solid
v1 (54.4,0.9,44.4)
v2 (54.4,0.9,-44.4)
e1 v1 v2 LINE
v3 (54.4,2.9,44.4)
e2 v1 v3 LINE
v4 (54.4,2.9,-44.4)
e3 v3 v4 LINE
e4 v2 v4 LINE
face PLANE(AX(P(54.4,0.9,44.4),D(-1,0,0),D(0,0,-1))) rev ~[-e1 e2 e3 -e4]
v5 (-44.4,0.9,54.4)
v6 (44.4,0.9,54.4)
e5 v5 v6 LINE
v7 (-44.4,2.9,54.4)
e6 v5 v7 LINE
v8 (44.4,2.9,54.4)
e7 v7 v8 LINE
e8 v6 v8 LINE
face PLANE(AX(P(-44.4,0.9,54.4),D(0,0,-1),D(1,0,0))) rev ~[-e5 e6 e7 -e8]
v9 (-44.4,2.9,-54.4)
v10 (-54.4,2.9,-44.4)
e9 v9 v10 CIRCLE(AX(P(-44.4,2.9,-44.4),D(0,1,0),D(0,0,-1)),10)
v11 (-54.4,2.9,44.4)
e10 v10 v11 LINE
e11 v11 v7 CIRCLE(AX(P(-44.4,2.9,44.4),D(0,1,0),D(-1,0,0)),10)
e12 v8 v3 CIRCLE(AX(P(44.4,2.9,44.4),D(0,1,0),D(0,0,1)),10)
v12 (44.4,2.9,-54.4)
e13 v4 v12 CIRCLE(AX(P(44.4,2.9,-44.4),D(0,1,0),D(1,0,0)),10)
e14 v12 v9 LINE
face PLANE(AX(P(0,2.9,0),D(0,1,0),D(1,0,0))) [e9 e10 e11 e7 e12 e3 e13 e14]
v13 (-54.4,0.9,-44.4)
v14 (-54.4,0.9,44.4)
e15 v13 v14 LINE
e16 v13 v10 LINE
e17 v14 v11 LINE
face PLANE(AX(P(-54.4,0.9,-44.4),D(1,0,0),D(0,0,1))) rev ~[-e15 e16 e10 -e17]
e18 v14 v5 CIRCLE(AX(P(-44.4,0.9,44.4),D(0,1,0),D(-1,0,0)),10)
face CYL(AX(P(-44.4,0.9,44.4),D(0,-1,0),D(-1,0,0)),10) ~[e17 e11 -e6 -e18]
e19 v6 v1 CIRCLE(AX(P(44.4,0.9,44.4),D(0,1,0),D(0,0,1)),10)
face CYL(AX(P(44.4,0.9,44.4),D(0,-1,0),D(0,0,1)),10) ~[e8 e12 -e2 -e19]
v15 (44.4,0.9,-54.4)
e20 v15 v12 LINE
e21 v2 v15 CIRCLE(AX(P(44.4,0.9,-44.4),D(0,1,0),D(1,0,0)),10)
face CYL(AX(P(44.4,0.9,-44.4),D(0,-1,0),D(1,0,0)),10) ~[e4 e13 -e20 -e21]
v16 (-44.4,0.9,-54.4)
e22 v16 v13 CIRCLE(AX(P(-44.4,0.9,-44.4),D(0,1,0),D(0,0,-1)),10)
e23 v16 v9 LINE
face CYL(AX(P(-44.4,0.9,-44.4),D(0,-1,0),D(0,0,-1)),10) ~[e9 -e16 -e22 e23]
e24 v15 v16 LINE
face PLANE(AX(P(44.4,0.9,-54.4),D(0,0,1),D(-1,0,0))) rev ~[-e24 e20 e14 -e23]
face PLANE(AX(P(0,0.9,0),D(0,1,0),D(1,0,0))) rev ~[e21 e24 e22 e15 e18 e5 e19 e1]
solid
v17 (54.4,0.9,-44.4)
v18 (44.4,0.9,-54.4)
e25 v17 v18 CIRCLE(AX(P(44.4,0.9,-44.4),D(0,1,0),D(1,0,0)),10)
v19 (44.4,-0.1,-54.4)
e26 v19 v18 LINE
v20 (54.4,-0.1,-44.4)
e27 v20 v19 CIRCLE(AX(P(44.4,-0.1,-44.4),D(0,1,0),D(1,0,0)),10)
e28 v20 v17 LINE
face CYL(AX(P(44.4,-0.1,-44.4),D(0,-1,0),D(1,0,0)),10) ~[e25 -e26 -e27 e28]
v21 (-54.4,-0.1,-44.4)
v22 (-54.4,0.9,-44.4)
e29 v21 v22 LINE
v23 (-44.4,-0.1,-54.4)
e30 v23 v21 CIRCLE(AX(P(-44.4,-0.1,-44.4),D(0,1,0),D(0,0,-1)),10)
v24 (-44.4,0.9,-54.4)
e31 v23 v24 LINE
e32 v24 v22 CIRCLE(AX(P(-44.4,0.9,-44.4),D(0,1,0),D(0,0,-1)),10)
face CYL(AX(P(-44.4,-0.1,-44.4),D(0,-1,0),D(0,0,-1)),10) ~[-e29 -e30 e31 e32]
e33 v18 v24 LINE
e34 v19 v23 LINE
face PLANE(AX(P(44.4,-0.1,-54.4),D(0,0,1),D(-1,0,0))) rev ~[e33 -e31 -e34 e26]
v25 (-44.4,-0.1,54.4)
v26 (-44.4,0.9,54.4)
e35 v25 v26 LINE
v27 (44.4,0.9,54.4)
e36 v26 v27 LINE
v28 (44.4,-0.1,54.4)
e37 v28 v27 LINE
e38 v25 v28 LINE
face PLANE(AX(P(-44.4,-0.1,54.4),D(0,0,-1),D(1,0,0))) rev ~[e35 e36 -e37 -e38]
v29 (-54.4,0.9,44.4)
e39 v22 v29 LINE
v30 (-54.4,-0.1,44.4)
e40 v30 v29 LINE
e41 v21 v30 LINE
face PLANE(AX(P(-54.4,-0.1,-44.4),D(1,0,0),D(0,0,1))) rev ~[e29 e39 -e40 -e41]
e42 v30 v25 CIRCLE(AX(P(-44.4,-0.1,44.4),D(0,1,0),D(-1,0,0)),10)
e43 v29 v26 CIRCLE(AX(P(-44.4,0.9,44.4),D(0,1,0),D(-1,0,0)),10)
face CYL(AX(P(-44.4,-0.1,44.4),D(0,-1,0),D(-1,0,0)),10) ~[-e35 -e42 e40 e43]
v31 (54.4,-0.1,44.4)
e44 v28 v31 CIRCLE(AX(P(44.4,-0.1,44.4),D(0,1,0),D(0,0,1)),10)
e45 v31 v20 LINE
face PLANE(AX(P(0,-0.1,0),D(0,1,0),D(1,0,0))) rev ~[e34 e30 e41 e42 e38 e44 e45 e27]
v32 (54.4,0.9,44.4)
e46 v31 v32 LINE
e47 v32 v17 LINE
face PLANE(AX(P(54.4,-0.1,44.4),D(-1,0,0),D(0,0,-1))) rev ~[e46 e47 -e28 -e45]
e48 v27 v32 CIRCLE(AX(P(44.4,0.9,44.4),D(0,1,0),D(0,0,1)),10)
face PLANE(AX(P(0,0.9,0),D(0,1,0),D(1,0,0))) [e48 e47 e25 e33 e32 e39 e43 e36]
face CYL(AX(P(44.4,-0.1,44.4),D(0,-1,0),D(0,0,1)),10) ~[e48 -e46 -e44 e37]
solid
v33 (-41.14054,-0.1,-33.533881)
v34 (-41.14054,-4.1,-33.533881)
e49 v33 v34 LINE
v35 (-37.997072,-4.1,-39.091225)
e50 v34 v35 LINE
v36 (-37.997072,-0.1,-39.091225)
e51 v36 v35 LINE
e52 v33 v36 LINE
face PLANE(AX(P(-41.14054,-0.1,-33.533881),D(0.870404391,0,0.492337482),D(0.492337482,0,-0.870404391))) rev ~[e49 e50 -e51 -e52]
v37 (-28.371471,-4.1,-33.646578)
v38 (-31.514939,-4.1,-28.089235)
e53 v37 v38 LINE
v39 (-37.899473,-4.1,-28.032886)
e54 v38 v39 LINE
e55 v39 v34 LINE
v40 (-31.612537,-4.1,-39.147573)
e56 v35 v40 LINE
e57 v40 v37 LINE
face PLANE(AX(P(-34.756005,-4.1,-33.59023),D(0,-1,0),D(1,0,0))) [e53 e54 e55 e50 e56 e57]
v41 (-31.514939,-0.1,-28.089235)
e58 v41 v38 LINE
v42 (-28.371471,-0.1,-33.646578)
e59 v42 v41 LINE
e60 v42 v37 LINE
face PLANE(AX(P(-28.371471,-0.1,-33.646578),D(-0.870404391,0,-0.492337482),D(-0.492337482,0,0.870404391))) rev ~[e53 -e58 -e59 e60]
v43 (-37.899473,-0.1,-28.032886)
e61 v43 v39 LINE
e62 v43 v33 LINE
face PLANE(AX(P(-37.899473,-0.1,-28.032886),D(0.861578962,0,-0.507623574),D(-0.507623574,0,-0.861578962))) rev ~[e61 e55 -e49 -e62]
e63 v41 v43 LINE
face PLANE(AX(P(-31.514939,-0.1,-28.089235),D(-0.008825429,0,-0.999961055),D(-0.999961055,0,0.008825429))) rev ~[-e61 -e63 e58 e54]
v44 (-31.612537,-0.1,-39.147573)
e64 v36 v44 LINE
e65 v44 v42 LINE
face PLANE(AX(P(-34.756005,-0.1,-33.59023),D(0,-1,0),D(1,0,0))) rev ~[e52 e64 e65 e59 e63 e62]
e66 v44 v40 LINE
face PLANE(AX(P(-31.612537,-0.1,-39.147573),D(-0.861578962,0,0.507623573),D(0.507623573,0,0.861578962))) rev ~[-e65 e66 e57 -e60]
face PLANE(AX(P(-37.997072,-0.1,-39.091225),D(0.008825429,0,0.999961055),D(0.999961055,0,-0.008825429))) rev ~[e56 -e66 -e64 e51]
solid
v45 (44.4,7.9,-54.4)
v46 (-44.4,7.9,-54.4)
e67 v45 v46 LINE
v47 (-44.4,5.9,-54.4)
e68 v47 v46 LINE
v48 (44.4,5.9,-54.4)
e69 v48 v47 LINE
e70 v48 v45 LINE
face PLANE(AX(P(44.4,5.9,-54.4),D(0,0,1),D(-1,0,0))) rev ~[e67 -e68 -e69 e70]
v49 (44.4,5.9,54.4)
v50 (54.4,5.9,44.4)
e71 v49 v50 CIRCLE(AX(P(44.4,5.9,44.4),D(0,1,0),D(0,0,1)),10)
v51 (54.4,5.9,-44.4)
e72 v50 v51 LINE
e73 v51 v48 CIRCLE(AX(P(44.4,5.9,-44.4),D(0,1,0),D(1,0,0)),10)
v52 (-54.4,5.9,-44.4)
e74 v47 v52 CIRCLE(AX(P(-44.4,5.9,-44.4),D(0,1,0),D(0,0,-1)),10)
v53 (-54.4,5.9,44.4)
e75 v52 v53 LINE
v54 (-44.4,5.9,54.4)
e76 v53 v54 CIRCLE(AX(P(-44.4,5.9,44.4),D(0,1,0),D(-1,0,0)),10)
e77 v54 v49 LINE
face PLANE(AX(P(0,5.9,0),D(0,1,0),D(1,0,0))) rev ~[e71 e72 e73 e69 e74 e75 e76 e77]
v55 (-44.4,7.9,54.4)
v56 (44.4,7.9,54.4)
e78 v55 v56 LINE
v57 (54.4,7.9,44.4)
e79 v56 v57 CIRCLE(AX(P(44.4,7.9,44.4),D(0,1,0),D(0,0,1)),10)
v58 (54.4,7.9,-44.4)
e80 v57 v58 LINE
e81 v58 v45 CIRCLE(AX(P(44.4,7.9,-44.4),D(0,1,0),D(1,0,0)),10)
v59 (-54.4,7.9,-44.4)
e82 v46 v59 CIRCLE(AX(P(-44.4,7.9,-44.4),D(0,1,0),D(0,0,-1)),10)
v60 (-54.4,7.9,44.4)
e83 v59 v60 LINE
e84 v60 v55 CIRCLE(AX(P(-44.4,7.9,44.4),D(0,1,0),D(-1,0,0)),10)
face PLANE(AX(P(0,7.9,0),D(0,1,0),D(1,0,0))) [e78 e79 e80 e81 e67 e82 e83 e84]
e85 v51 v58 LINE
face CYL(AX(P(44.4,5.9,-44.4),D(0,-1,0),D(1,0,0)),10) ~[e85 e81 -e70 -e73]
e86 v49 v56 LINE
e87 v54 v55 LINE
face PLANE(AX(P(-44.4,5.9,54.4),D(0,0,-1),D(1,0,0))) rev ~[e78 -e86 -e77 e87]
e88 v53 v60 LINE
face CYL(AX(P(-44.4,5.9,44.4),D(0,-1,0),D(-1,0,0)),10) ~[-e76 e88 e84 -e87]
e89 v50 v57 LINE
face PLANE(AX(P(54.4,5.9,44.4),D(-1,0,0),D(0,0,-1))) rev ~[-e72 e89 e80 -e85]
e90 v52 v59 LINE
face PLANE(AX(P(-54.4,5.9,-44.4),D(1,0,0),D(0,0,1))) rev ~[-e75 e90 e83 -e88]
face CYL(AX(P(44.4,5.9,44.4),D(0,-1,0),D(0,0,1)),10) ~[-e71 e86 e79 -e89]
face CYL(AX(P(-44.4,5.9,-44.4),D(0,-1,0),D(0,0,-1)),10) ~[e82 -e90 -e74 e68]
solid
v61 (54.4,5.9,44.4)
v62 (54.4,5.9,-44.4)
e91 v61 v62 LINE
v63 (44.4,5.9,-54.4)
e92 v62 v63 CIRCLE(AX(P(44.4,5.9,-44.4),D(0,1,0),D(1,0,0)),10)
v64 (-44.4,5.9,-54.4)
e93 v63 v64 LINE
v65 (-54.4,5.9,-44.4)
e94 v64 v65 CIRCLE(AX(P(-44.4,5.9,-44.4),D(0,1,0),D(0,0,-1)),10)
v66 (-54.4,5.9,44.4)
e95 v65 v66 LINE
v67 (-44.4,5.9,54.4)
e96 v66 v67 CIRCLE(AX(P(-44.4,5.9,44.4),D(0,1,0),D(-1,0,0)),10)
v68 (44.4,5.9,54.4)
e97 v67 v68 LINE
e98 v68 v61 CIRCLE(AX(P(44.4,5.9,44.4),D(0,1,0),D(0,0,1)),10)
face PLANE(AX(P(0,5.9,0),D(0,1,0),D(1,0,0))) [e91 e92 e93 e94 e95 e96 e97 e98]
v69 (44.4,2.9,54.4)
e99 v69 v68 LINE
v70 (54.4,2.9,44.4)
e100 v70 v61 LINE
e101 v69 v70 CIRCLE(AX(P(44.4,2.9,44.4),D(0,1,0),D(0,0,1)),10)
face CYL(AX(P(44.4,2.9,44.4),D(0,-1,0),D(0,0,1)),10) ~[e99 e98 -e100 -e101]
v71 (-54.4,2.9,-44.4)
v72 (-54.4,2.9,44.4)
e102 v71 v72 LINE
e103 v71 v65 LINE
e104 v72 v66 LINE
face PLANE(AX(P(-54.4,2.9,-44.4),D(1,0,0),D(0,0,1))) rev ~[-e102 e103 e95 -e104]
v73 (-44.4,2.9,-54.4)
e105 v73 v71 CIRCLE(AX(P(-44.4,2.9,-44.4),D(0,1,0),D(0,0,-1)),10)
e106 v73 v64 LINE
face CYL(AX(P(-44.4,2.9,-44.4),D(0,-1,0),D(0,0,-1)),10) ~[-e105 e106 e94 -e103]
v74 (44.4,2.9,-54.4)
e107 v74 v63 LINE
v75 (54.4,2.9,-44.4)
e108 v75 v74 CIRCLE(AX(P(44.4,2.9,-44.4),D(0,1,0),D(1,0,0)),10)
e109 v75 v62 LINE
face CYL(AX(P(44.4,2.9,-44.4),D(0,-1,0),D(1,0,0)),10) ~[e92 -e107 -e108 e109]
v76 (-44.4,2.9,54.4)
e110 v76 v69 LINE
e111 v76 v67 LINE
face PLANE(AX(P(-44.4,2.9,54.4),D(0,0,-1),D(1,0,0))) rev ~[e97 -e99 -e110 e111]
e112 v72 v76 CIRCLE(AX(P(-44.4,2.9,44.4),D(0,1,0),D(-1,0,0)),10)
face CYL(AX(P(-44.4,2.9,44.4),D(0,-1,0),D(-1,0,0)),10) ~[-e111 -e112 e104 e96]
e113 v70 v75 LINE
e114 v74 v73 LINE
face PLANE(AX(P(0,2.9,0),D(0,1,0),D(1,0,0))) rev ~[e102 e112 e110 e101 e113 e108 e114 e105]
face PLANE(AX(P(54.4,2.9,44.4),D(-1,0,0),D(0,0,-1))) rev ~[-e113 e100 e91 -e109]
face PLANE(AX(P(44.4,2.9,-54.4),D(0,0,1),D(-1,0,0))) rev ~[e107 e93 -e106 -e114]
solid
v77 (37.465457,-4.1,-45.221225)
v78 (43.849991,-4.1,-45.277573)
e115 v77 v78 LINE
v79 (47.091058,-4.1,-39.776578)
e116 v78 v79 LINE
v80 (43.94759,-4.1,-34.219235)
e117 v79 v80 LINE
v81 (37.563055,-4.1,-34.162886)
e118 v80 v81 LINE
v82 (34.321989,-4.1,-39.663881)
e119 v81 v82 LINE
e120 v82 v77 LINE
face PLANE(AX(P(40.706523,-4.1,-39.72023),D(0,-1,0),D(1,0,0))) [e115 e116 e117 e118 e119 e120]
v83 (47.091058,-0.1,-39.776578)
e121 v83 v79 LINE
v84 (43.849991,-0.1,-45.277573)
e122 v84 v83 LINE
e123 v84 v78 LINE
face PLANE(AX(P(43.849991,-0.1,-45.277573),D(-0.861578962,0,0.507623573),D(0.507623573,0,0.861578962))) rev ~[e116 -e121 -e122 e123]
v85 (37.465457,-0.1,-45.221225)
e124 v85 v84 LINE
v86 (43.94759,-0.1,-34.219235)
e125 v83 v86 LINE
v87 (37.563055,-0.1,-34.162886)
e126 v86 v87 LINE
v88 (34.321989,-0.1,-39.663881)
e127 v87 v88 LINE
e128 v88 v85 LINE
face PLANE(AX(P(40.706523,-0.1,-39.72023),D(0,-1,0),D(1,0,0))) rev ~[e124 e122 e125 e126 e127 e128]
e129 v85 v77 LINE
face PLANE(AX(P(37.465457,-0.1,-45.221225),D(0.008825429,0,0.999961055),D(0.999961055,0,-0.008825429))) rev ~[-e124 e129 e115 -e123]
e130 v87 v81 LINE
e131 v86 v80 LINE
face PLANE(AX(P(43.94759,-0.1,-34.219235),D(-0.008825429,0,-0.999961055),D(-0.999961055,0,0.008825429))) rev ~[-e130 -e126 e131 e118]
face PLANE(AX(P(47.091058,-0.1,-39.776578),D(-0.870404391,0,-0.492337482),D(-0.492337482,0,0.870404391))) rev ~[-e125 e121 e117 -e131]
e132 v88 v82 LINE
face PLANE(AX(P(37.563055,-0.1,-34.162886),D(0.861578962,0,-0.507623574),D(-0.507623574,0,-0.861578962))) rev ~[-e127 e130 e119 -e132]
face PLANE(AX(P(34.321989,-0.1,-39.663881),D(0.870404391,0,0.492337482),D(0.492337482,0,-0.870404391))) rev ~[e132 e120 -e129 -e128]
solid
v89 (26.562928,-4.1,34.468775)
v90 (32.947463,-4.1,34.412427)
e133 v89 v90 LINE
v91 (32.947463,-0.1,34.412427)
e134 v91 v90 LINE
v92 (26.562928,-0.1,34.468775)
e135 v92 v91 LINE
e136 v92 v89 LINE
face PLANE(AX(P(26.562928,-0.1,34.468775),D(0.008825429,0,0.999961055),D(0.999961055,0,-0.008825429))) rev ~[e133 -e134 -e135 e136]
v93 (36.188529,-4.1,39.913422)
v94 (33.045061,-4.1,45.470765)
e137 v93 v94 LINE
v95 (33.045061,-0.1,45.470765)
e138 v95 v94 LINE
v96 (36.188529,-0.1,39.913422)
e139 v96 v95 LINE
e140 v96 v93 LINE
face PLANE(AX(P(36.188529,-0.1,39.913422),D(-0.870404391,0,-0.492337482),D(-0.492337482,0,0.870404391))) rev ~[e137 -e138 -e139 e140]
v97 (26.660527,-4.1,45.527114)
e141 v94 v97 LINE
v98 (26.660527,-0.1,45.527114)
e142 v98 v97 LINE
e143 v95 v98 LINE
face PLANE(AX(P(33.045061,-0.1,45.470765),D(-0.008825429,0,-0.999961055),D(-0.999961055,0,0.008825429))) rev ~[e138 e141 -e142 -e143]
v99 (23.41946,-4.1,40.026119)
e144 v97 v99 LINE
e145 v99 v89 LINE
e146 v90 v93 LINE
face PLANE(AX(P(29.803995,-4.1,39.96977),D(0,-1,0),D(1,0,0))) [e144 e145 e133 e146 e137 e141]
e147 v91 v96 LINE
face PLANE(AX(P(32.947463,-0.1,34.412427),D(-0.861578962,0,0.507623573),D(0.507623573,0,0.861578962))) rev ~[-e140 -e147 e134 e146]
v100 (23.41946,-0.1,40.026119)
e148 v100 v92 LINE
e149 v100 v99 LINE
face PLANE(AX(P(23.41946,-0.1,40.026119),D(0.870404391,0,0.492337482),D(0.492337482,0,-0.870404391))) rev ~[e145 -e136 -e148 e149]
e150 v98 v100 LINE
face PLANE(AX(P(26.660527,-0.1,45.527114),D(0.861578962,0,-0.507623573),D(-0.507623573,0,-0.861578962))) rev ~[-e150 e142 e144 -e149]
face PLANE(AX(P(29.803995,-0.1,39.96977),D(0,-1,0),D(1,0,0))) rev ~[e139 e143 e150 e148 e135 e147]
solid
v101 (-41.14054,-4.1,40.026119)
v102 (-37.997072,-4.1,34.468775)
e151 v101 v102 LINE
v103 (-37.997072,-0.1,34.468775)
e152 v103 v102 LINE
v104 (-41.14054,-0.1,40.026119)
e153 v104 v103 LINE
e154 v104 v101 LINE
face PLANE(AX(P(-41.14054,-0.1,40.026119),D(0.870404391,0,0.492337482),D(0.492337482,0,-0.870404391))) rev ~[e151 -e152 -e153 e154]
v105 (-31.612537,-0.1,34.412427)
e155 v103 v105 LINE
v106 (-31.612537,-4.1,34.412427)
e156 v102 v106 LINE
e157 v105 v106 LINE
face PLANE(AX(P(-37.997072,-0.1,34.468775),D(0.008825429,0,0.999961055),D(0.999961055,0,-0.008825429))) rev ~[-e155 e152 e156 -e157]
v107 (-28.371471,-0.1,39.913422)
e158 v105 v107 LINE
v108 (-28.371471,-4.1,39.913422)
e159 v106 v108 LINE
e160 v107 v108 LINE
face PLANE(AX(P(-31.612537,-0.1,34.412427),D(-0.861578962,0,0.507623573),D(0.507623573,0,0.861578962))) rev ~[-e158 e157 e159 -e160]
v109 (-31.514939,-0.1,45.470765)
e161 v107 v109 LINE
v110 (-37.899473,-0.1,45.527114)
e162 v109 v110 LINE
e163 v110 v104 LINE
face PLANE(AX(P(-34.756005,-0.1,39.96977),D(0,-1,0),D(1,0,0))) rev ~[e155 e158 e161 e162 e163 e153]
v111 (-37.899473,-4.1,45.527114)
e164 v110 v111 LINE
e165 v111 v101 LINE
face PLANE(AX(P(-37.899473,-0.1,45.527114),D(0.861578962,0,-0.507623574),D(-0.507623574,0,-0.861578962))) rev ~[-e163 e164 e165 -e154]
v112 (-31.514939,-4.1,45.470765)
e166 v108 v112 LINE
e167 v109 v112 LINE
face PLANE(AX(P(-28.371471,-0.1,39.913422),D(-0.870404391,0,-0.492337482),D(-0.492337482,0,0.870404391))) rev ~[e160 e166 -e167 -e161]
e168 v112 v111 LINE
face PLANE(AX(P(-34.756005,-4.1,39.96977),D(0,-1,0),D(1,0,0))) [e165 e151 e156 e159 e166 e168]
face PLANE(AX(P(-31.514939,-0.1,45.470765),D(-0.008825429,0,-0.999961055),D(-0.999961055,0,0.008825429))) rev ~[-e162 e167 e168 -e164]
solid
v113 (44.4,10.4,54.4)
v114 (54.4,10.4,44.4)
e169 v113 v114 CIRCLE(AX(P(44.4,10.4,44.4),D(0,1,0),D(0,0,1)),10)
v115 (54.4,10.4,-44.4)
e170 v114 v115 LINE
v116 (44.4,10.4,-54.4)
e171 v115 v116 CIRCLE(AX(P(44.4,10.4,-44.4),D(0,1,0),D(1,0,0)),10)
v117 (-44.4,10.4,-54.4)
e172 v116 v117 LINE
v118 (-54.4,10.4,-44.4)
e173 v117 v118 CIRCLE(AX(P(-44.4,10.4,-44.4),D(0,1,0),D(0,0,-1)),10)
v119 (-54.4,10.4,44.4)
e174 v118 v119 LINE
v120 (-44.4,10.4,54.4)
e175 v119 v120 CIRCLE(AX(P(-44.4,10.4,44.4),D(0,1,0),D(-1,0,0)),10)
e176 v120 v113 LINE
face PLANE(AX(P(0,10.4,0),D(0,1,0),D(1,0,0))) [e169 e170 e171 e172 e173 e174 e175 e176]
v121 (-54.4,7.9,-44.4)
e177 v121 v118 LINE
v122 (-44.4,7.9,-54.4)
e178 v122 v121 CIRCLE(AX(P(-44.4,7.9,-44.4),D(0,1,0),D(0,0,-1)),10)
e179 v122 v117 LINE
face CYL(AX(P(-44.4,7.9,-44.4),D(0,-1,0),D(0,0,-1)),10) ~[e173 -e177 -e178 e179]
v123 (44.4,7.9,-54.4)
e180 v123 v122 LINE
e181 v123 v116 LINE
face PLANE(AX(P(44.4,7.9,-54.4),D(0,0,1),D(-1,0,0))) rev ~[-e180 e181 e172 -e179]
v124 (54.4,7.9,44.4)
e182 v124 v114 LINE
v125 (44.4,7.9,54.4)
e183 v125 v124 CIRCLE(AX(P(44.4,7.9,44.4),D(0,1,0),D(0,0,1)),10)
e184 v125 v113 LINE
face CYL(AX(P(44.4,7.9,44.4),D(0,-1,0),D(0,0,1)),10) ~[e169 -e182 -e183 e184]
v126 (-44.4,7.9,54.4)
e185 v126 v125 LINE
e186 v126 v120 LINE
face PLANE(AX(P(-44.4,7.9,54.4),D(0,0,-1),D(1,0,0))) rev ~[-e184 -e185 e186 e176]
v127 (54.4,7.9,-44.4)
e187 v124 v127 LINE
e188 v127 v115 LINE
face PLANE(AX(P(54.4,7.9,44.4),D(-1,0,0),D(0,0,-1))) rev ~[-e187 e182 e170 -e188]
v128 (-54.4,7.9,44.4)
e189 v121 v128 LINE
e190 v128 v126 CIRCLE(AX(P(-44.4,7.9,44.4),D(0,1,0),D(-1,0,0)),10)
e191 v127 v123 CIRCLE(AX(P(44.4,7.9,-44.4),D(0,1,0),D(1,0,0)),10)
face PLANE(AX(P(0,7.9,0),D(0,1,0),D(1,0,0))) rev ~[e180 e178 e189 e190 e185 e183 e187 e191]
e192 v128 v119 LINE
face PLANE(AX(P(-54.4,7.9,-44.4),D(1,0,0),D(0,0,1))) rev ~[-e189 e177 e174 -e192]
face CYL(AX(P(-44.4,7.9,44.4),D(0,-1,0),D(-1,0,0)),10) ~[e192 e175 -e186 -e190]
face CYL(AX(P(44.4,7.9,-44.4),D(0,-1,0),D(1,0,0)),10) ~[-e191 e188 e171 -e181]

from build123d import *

# Parameters (mm, degrees)
BOSS_EXTRUDE1_DEPTH   = 0.1
BOSS_EXTRUDE2_START   = -0.1
BOSS_EXTRUDE2_DEPTH   = 1
BOSS_EXTRUDE3_DEPTH   = 4
BOSS_EXTRUDE3_2_DEPTH = 4
BOSS_EXTRUDE3_3_DEPTH = 4
BOSS_EXTRUDE3_4_DEPTH = 4
BOSS_EXTRUDE4_DEPTH   = 2
BOSS_EXTRUDE5_START   = 2
BOSS_EXTRUDE5_DEPTH   = 3
BOSS_EXTRUDE6_START   = 5
BOSS_EXTRUDE6_DEPTH   = 2
BOSS_EXTRUDE7_START   = 7
BOSS_EXTRUDE7_DEPTH   = 2.5


with BuildPart() as part:
    # Sketch2 → Boss-Extrude1 (new body)
    with BuildSketch(Plane(origin=(0, 0, 0), x_dir=(1, 0, 0), z_dir=(0, 1, 0))):
        with BuildLine():
            Line((44.4, 52.9), (-44.4, 52.9))
            ThreePointArc((-44.4, 52.9), (-50.41040764, 50.41040764), (-52.9, 44.4))
            Line((-52.9, 44.4), (-52.9, -44.4))
            ThreePointArc((-52.9, -44.4), (-50.41040764, -50.41040764), (-44.4, -52.9))
            Line((-44.4, -52.9), (44.4, -52.9))
            ThreePointArc((44.4, -52.9), (50.41040764, -50.41040764), (52.9, -44.4))
            Line((52.9, -44.4), (52.9, 44.4))
            ThreePointArc((52.9, 44.4), (50.41040764, 50.41040764), (44.4, 52.9))
        make_face()
        with BuildLine():
            Line((44.4, 51.9), (-44.4, 51.9))
            ThreePointArc((-44.4, 51.9), (-49.703300859, 49.703300859), (-51.9, 44.4))
            Line((-51.9, 44.4), (-51.9, -44.4))
            ThreePointArc((-51.9, -44.4), (-49.703300859, -49.703300859), (-44.4, -51.9))
            Line((-44.4, -51.9), (44.4, -51.9))
            ThreePointArc((44.4, -51.9), (49.703300859, -49.703300859), (51.9, -44.4))
            Line((51.9, -44.4), (51.9, 44.4))
            ThreePointArc((51.9, 44.4), (49.703300859, 49.703300859), (44.4, 51.9))
        make_face(mode=Mode.SUBTRACT)
    extrude(amount=-BOSS_EXTRUDE1_DEPTH)

    # Sketch1 → Boss-Extrude2 (add)
    with BuildSketch(Plane(origin=(0, 0, 0), x_dir=(1, 0, 0), z_dir=(0, 1, 0)).offset(BOSS_EXTRUDE2_START)):
        with BuildLine():
            Line((54.4, -44.4), (54.4, 44.4))
            ThreePointArc((54.4, 44.4), (51.471067812, 51.471067812), (44.4, 54.4))
            Line((44.4, 54.4), (-44.4, 54.4))
            ThreePointArc((-44.4, 54.4), (-51.471067812, 51.471067812), (-54.4, 44.4))
            Line((-54.4, 44.4), (-54.4, -44.4))
            ThreePointArc((-54.4, -44.4), (-51.471067812, -51.471067812), (-44.4, -54.4))
            Line((-44.4, -54.4), (44.4, -54.4))
            ThreePointArc((44.4, -54.4), (51.471067812, -51.471067812), (54.4, -44.4))
        make_face()
        with BuildLine():
            ThreePointArc((-44.4, 53.4), (-50.763961031, 50.763961031), (-53.4, 44.4))
            Line((-53.4, 44.4), (-53.4, -44.4))
            ThreePointArc((-53.4, -44.4), (-50.763961031, -50.763961031), (-44.4, -53.4))
            Line((-44.4, -53.4), (44.4, -53.4))
            ThreePointArc((44.4, -53.4), (50.763961031, -50.763961031), (53.4, -44.4))
            Line((53.4, -44.4), (53.4, 44.4))
            ThreePointArc((53.4, 44.4), (50.763961031, 50.763961031), (44.4, 53.4))
            Line((44.4, 53.4), (-44.4, 53.4))
        make_face(mode=Mode.SUBTRACT)
        with BuildLine():
            Line((-44.4, 53.4), (44.4, 53.4))
            ThreePointArc((44.4, 53.4), (50.763961031, 50.763961031), (53.4, 44.4))
            Line((53.4, 44.4), (53.4, -44.4))
            ThreePointArc((53.4, -44.4), (50.763961031, -50.763961031), (44.4, -53.4))
            Line((44.4, -53.4), (-44.4, -53.4))
            ThreePointArc((-44.4, -53.4), (-50.763961031, -50.763961031), (-53.4, -44.4))
            Line((-53.4, -44.4), (-53.4, 44.4))
            ThreePointArc((-53.4, 44.4), (-50.763961031, 50.763961031), (-44.4, 53.4))
        make_face()
    extrude(amount=BOSS_EXTRUDE2_DEPTH)


with BuildPart() as body_2:
    # Sketch3 → Boss-Extrude3 (new body)
    with BuildSketch(Plane.XZ.offset(0.1)):
        Polygon((-41.140539781, 40.026118716), (-37.997071749, 34.468775471), (-31.612537306, 34.41242702), (-28.371470895, 39.913421814), (-31.514938926, 45.470765058), (-37.899473369, 45.527113509), align=None)
    extrude(amount=BOSS_EXTRUDE3_DEPTH)


with BuildPart() as body_3:
    # Sketch3 → Boss-Extrude3 2 (new body)
    with BuildSketch(Plane.XZ.offset(0.1)):
        Polygon((23.419460219, 40.026118716), (26.56292825, 34.468775471), (32.947462693, 34.41242702), (36.188529105, 39.913421814), (33.045061073, 45.470765058), (26.66052663, 45.527113509), align=None)
    extrude(amount=BOSS_EXTRUDE3_2_DEPTH)


with BuildPart() as body_4:
    # Sketch3 → Boss-Extrude3 3 (new body)
    with BuildSketch(Plane.XZ.offset(0.1)):
        Polygon((34.321988768, -39.663881284), (37.4654568, -45.221224529), (43.849991243, -45.27757298), (47.091057654, -39.776578186), (43.947589623, -34.219234942), (37.56305518, -34.162886491), align=None)
    extrude(amount=BOSS_EXTRUDE3_3_DEPTH)


with BuildPart() as body_5:
    # Sketch3 → Boss-Extrude3 4 (new body)
    with BuildSketch(Plane.XZ.offset(0.1)):
        Polygon((-41.140539781, -33.533881284), (-37.997071749, -39.091224529), (-31.612537306, -39.14757298), (-28.371470895, -33.646578186), (-31.514938926, -28.089234942), (-37.899473369, -28.032886491), align=None)
    extrude(amount=BOSS_EXTRUDE3_4_DEPTH)


with BuildPart() as body_6:
    # Sketch4 → Boss-Extrude4 (new body)
    with BuildSketch(Plane(origin=(0, 0.9, 0), x_dir=(1, 0, 0), z_dir=(0, 1, 0))):
        with BuildLine():
            Line((54.4, -44.4), (54.4, 44.4))
            ThreePointArc((54.4, 44.4), (51.471067812, 51.471067812), (44.4, 54.4))
            Line((44.4, 54.4), (-44.4, 54.4))
            ThreePointArc((-44.4, 54.4), (-51.471067812, 51.471067812), (-54.4, 44.4))
            Line((-54.4, 44.4), (-54.4, -44.4))
            ThreePointArc((-54.4, -44.4), (-51.471067812, -51.471067812), (-44.4, -54.4))
            Line((-44.4, -54.4), (44.4, -54.4))
            ThreePointArc((44.4, -54.4), (51.471067812, -51.471067812), (54.4, -44.4))
        make_face()
    extrude(amount=BOSS_EXTRUDE4_DEPTH)


with BuildPart() as body_7:
    # Sketch4<2> → Boss-Extrude5 (new body)
    with BuildSketch(Plane(origin=(0, 0.9, 0), x_dir=(1, 0, 0), z_dir=(0, 1, 0)).offset(BOSS_EXTRUDE5_START)):
        with BuildLine():
            Line((54.4, -44.4), (54.4, 44.4))
            ThreePointArc((54.4, 44.4), (51.471067812, 51.471067812), (44.4, 54.4))
            Line((44.4, 54.4), (-44.4, 54.4))
            ThreePointArc((-44.4, 54.4), (-51.471067812, 51.471067812), (-54.4, 44.4))
            Line((-54.4, 44.4), (-54.4, -44.4))
            ThreePointArc((-54.4, -44.4), (-51.471067812, -51.471067812), (-44.4, -54.4))
            Line((-44.4, -54.4), (44.4, -54.4))
            ThreePointArc((44.4, -54.4), (51.471067812, -51.471067812), (54.4, -44.4))
        make_face()
    extrude(amount=BOSS_EXTRUDE5_DEPTH)


with BuildPart() as body_8:
    # Sketch4<3> → Boss-Extrude6 (new body)
    with BuildSketch(Plane(origin=(0, 0.9, 0), x_dir=(1, 0, 0), z_dir=(0, 1, 0)).offset(BOSS_EXTRUDE6_START)):
        with BuildLine():
            Line((54.4, -44.4), (54.4, 44.4))
            ThreePointArc((54.4, 44.4), (51.471067812, 51.471067812), (44.4, 54.4))
            Line((44.4, 54.4), (-44.4, 54.4))
            ThreePointArc((-44.4, 54.4), (-51.471067812, 51.471067812), (-54.4, 44.4))
            Line((-54.4, 44.4), (-54.4, -44.4))
            ThreePointArc((-54.4, -44.4), (-51.471067812, -51.471067812), (-44.4, -54.4))
            Line((-44.4, -54.4), (44.4, -54.4))
            ThreePointArc((44.4, -54.4), (51.471067812, -51.471067812), (54.4, -44.4))
        make_face()
    extrude(amount=BOSS_EXTRUDE6_DEPTH)


with BuildPart() as body_9:
    # Sketch4<4> → Boss-Extrude7 (new body)
    with BuildSketch(Plane(origin=(0, 0.9, 0), x_dir=(1, 0, 0), z_dir=(0, 1, 0)).offset(BOSS_EXTRUDE7_START)):
        with BuildLine():
            Line((54.4, -44.4), (54.4, 44.4))
            ThreePointArc((54.4, 44.4), (51.471067812, 51.471067812), (44.4, 54.4))
            Line((44.4, 54.4), (-44.4, 54.4))
            ThreePointArc((-44.4, 54.4), (-51.471067812, 51.471067812), (-54.4, 44.4))
            Line((-54.4, 44.4), (-54.4, -44.4))
            ThreePointArc((-54.4, -44.4), (-51.471067812, -51.471067812), (-44.4, -54.4))
            Line((-44.4, -54.4), (44.4, -54.4))
            ThreePointArc((44.4, -54.4), (51.471067812, -51.471067812), (54.4, -44.4))
        make_face()
    extrude(amount=BOSS_EXTRUDE7_DEPTH)


solid = Compound([part.part, body_2.part, body_3.part, body_4.part, body_5.part, body_6.part, body_7.part, body_8.part, body_9.part])
